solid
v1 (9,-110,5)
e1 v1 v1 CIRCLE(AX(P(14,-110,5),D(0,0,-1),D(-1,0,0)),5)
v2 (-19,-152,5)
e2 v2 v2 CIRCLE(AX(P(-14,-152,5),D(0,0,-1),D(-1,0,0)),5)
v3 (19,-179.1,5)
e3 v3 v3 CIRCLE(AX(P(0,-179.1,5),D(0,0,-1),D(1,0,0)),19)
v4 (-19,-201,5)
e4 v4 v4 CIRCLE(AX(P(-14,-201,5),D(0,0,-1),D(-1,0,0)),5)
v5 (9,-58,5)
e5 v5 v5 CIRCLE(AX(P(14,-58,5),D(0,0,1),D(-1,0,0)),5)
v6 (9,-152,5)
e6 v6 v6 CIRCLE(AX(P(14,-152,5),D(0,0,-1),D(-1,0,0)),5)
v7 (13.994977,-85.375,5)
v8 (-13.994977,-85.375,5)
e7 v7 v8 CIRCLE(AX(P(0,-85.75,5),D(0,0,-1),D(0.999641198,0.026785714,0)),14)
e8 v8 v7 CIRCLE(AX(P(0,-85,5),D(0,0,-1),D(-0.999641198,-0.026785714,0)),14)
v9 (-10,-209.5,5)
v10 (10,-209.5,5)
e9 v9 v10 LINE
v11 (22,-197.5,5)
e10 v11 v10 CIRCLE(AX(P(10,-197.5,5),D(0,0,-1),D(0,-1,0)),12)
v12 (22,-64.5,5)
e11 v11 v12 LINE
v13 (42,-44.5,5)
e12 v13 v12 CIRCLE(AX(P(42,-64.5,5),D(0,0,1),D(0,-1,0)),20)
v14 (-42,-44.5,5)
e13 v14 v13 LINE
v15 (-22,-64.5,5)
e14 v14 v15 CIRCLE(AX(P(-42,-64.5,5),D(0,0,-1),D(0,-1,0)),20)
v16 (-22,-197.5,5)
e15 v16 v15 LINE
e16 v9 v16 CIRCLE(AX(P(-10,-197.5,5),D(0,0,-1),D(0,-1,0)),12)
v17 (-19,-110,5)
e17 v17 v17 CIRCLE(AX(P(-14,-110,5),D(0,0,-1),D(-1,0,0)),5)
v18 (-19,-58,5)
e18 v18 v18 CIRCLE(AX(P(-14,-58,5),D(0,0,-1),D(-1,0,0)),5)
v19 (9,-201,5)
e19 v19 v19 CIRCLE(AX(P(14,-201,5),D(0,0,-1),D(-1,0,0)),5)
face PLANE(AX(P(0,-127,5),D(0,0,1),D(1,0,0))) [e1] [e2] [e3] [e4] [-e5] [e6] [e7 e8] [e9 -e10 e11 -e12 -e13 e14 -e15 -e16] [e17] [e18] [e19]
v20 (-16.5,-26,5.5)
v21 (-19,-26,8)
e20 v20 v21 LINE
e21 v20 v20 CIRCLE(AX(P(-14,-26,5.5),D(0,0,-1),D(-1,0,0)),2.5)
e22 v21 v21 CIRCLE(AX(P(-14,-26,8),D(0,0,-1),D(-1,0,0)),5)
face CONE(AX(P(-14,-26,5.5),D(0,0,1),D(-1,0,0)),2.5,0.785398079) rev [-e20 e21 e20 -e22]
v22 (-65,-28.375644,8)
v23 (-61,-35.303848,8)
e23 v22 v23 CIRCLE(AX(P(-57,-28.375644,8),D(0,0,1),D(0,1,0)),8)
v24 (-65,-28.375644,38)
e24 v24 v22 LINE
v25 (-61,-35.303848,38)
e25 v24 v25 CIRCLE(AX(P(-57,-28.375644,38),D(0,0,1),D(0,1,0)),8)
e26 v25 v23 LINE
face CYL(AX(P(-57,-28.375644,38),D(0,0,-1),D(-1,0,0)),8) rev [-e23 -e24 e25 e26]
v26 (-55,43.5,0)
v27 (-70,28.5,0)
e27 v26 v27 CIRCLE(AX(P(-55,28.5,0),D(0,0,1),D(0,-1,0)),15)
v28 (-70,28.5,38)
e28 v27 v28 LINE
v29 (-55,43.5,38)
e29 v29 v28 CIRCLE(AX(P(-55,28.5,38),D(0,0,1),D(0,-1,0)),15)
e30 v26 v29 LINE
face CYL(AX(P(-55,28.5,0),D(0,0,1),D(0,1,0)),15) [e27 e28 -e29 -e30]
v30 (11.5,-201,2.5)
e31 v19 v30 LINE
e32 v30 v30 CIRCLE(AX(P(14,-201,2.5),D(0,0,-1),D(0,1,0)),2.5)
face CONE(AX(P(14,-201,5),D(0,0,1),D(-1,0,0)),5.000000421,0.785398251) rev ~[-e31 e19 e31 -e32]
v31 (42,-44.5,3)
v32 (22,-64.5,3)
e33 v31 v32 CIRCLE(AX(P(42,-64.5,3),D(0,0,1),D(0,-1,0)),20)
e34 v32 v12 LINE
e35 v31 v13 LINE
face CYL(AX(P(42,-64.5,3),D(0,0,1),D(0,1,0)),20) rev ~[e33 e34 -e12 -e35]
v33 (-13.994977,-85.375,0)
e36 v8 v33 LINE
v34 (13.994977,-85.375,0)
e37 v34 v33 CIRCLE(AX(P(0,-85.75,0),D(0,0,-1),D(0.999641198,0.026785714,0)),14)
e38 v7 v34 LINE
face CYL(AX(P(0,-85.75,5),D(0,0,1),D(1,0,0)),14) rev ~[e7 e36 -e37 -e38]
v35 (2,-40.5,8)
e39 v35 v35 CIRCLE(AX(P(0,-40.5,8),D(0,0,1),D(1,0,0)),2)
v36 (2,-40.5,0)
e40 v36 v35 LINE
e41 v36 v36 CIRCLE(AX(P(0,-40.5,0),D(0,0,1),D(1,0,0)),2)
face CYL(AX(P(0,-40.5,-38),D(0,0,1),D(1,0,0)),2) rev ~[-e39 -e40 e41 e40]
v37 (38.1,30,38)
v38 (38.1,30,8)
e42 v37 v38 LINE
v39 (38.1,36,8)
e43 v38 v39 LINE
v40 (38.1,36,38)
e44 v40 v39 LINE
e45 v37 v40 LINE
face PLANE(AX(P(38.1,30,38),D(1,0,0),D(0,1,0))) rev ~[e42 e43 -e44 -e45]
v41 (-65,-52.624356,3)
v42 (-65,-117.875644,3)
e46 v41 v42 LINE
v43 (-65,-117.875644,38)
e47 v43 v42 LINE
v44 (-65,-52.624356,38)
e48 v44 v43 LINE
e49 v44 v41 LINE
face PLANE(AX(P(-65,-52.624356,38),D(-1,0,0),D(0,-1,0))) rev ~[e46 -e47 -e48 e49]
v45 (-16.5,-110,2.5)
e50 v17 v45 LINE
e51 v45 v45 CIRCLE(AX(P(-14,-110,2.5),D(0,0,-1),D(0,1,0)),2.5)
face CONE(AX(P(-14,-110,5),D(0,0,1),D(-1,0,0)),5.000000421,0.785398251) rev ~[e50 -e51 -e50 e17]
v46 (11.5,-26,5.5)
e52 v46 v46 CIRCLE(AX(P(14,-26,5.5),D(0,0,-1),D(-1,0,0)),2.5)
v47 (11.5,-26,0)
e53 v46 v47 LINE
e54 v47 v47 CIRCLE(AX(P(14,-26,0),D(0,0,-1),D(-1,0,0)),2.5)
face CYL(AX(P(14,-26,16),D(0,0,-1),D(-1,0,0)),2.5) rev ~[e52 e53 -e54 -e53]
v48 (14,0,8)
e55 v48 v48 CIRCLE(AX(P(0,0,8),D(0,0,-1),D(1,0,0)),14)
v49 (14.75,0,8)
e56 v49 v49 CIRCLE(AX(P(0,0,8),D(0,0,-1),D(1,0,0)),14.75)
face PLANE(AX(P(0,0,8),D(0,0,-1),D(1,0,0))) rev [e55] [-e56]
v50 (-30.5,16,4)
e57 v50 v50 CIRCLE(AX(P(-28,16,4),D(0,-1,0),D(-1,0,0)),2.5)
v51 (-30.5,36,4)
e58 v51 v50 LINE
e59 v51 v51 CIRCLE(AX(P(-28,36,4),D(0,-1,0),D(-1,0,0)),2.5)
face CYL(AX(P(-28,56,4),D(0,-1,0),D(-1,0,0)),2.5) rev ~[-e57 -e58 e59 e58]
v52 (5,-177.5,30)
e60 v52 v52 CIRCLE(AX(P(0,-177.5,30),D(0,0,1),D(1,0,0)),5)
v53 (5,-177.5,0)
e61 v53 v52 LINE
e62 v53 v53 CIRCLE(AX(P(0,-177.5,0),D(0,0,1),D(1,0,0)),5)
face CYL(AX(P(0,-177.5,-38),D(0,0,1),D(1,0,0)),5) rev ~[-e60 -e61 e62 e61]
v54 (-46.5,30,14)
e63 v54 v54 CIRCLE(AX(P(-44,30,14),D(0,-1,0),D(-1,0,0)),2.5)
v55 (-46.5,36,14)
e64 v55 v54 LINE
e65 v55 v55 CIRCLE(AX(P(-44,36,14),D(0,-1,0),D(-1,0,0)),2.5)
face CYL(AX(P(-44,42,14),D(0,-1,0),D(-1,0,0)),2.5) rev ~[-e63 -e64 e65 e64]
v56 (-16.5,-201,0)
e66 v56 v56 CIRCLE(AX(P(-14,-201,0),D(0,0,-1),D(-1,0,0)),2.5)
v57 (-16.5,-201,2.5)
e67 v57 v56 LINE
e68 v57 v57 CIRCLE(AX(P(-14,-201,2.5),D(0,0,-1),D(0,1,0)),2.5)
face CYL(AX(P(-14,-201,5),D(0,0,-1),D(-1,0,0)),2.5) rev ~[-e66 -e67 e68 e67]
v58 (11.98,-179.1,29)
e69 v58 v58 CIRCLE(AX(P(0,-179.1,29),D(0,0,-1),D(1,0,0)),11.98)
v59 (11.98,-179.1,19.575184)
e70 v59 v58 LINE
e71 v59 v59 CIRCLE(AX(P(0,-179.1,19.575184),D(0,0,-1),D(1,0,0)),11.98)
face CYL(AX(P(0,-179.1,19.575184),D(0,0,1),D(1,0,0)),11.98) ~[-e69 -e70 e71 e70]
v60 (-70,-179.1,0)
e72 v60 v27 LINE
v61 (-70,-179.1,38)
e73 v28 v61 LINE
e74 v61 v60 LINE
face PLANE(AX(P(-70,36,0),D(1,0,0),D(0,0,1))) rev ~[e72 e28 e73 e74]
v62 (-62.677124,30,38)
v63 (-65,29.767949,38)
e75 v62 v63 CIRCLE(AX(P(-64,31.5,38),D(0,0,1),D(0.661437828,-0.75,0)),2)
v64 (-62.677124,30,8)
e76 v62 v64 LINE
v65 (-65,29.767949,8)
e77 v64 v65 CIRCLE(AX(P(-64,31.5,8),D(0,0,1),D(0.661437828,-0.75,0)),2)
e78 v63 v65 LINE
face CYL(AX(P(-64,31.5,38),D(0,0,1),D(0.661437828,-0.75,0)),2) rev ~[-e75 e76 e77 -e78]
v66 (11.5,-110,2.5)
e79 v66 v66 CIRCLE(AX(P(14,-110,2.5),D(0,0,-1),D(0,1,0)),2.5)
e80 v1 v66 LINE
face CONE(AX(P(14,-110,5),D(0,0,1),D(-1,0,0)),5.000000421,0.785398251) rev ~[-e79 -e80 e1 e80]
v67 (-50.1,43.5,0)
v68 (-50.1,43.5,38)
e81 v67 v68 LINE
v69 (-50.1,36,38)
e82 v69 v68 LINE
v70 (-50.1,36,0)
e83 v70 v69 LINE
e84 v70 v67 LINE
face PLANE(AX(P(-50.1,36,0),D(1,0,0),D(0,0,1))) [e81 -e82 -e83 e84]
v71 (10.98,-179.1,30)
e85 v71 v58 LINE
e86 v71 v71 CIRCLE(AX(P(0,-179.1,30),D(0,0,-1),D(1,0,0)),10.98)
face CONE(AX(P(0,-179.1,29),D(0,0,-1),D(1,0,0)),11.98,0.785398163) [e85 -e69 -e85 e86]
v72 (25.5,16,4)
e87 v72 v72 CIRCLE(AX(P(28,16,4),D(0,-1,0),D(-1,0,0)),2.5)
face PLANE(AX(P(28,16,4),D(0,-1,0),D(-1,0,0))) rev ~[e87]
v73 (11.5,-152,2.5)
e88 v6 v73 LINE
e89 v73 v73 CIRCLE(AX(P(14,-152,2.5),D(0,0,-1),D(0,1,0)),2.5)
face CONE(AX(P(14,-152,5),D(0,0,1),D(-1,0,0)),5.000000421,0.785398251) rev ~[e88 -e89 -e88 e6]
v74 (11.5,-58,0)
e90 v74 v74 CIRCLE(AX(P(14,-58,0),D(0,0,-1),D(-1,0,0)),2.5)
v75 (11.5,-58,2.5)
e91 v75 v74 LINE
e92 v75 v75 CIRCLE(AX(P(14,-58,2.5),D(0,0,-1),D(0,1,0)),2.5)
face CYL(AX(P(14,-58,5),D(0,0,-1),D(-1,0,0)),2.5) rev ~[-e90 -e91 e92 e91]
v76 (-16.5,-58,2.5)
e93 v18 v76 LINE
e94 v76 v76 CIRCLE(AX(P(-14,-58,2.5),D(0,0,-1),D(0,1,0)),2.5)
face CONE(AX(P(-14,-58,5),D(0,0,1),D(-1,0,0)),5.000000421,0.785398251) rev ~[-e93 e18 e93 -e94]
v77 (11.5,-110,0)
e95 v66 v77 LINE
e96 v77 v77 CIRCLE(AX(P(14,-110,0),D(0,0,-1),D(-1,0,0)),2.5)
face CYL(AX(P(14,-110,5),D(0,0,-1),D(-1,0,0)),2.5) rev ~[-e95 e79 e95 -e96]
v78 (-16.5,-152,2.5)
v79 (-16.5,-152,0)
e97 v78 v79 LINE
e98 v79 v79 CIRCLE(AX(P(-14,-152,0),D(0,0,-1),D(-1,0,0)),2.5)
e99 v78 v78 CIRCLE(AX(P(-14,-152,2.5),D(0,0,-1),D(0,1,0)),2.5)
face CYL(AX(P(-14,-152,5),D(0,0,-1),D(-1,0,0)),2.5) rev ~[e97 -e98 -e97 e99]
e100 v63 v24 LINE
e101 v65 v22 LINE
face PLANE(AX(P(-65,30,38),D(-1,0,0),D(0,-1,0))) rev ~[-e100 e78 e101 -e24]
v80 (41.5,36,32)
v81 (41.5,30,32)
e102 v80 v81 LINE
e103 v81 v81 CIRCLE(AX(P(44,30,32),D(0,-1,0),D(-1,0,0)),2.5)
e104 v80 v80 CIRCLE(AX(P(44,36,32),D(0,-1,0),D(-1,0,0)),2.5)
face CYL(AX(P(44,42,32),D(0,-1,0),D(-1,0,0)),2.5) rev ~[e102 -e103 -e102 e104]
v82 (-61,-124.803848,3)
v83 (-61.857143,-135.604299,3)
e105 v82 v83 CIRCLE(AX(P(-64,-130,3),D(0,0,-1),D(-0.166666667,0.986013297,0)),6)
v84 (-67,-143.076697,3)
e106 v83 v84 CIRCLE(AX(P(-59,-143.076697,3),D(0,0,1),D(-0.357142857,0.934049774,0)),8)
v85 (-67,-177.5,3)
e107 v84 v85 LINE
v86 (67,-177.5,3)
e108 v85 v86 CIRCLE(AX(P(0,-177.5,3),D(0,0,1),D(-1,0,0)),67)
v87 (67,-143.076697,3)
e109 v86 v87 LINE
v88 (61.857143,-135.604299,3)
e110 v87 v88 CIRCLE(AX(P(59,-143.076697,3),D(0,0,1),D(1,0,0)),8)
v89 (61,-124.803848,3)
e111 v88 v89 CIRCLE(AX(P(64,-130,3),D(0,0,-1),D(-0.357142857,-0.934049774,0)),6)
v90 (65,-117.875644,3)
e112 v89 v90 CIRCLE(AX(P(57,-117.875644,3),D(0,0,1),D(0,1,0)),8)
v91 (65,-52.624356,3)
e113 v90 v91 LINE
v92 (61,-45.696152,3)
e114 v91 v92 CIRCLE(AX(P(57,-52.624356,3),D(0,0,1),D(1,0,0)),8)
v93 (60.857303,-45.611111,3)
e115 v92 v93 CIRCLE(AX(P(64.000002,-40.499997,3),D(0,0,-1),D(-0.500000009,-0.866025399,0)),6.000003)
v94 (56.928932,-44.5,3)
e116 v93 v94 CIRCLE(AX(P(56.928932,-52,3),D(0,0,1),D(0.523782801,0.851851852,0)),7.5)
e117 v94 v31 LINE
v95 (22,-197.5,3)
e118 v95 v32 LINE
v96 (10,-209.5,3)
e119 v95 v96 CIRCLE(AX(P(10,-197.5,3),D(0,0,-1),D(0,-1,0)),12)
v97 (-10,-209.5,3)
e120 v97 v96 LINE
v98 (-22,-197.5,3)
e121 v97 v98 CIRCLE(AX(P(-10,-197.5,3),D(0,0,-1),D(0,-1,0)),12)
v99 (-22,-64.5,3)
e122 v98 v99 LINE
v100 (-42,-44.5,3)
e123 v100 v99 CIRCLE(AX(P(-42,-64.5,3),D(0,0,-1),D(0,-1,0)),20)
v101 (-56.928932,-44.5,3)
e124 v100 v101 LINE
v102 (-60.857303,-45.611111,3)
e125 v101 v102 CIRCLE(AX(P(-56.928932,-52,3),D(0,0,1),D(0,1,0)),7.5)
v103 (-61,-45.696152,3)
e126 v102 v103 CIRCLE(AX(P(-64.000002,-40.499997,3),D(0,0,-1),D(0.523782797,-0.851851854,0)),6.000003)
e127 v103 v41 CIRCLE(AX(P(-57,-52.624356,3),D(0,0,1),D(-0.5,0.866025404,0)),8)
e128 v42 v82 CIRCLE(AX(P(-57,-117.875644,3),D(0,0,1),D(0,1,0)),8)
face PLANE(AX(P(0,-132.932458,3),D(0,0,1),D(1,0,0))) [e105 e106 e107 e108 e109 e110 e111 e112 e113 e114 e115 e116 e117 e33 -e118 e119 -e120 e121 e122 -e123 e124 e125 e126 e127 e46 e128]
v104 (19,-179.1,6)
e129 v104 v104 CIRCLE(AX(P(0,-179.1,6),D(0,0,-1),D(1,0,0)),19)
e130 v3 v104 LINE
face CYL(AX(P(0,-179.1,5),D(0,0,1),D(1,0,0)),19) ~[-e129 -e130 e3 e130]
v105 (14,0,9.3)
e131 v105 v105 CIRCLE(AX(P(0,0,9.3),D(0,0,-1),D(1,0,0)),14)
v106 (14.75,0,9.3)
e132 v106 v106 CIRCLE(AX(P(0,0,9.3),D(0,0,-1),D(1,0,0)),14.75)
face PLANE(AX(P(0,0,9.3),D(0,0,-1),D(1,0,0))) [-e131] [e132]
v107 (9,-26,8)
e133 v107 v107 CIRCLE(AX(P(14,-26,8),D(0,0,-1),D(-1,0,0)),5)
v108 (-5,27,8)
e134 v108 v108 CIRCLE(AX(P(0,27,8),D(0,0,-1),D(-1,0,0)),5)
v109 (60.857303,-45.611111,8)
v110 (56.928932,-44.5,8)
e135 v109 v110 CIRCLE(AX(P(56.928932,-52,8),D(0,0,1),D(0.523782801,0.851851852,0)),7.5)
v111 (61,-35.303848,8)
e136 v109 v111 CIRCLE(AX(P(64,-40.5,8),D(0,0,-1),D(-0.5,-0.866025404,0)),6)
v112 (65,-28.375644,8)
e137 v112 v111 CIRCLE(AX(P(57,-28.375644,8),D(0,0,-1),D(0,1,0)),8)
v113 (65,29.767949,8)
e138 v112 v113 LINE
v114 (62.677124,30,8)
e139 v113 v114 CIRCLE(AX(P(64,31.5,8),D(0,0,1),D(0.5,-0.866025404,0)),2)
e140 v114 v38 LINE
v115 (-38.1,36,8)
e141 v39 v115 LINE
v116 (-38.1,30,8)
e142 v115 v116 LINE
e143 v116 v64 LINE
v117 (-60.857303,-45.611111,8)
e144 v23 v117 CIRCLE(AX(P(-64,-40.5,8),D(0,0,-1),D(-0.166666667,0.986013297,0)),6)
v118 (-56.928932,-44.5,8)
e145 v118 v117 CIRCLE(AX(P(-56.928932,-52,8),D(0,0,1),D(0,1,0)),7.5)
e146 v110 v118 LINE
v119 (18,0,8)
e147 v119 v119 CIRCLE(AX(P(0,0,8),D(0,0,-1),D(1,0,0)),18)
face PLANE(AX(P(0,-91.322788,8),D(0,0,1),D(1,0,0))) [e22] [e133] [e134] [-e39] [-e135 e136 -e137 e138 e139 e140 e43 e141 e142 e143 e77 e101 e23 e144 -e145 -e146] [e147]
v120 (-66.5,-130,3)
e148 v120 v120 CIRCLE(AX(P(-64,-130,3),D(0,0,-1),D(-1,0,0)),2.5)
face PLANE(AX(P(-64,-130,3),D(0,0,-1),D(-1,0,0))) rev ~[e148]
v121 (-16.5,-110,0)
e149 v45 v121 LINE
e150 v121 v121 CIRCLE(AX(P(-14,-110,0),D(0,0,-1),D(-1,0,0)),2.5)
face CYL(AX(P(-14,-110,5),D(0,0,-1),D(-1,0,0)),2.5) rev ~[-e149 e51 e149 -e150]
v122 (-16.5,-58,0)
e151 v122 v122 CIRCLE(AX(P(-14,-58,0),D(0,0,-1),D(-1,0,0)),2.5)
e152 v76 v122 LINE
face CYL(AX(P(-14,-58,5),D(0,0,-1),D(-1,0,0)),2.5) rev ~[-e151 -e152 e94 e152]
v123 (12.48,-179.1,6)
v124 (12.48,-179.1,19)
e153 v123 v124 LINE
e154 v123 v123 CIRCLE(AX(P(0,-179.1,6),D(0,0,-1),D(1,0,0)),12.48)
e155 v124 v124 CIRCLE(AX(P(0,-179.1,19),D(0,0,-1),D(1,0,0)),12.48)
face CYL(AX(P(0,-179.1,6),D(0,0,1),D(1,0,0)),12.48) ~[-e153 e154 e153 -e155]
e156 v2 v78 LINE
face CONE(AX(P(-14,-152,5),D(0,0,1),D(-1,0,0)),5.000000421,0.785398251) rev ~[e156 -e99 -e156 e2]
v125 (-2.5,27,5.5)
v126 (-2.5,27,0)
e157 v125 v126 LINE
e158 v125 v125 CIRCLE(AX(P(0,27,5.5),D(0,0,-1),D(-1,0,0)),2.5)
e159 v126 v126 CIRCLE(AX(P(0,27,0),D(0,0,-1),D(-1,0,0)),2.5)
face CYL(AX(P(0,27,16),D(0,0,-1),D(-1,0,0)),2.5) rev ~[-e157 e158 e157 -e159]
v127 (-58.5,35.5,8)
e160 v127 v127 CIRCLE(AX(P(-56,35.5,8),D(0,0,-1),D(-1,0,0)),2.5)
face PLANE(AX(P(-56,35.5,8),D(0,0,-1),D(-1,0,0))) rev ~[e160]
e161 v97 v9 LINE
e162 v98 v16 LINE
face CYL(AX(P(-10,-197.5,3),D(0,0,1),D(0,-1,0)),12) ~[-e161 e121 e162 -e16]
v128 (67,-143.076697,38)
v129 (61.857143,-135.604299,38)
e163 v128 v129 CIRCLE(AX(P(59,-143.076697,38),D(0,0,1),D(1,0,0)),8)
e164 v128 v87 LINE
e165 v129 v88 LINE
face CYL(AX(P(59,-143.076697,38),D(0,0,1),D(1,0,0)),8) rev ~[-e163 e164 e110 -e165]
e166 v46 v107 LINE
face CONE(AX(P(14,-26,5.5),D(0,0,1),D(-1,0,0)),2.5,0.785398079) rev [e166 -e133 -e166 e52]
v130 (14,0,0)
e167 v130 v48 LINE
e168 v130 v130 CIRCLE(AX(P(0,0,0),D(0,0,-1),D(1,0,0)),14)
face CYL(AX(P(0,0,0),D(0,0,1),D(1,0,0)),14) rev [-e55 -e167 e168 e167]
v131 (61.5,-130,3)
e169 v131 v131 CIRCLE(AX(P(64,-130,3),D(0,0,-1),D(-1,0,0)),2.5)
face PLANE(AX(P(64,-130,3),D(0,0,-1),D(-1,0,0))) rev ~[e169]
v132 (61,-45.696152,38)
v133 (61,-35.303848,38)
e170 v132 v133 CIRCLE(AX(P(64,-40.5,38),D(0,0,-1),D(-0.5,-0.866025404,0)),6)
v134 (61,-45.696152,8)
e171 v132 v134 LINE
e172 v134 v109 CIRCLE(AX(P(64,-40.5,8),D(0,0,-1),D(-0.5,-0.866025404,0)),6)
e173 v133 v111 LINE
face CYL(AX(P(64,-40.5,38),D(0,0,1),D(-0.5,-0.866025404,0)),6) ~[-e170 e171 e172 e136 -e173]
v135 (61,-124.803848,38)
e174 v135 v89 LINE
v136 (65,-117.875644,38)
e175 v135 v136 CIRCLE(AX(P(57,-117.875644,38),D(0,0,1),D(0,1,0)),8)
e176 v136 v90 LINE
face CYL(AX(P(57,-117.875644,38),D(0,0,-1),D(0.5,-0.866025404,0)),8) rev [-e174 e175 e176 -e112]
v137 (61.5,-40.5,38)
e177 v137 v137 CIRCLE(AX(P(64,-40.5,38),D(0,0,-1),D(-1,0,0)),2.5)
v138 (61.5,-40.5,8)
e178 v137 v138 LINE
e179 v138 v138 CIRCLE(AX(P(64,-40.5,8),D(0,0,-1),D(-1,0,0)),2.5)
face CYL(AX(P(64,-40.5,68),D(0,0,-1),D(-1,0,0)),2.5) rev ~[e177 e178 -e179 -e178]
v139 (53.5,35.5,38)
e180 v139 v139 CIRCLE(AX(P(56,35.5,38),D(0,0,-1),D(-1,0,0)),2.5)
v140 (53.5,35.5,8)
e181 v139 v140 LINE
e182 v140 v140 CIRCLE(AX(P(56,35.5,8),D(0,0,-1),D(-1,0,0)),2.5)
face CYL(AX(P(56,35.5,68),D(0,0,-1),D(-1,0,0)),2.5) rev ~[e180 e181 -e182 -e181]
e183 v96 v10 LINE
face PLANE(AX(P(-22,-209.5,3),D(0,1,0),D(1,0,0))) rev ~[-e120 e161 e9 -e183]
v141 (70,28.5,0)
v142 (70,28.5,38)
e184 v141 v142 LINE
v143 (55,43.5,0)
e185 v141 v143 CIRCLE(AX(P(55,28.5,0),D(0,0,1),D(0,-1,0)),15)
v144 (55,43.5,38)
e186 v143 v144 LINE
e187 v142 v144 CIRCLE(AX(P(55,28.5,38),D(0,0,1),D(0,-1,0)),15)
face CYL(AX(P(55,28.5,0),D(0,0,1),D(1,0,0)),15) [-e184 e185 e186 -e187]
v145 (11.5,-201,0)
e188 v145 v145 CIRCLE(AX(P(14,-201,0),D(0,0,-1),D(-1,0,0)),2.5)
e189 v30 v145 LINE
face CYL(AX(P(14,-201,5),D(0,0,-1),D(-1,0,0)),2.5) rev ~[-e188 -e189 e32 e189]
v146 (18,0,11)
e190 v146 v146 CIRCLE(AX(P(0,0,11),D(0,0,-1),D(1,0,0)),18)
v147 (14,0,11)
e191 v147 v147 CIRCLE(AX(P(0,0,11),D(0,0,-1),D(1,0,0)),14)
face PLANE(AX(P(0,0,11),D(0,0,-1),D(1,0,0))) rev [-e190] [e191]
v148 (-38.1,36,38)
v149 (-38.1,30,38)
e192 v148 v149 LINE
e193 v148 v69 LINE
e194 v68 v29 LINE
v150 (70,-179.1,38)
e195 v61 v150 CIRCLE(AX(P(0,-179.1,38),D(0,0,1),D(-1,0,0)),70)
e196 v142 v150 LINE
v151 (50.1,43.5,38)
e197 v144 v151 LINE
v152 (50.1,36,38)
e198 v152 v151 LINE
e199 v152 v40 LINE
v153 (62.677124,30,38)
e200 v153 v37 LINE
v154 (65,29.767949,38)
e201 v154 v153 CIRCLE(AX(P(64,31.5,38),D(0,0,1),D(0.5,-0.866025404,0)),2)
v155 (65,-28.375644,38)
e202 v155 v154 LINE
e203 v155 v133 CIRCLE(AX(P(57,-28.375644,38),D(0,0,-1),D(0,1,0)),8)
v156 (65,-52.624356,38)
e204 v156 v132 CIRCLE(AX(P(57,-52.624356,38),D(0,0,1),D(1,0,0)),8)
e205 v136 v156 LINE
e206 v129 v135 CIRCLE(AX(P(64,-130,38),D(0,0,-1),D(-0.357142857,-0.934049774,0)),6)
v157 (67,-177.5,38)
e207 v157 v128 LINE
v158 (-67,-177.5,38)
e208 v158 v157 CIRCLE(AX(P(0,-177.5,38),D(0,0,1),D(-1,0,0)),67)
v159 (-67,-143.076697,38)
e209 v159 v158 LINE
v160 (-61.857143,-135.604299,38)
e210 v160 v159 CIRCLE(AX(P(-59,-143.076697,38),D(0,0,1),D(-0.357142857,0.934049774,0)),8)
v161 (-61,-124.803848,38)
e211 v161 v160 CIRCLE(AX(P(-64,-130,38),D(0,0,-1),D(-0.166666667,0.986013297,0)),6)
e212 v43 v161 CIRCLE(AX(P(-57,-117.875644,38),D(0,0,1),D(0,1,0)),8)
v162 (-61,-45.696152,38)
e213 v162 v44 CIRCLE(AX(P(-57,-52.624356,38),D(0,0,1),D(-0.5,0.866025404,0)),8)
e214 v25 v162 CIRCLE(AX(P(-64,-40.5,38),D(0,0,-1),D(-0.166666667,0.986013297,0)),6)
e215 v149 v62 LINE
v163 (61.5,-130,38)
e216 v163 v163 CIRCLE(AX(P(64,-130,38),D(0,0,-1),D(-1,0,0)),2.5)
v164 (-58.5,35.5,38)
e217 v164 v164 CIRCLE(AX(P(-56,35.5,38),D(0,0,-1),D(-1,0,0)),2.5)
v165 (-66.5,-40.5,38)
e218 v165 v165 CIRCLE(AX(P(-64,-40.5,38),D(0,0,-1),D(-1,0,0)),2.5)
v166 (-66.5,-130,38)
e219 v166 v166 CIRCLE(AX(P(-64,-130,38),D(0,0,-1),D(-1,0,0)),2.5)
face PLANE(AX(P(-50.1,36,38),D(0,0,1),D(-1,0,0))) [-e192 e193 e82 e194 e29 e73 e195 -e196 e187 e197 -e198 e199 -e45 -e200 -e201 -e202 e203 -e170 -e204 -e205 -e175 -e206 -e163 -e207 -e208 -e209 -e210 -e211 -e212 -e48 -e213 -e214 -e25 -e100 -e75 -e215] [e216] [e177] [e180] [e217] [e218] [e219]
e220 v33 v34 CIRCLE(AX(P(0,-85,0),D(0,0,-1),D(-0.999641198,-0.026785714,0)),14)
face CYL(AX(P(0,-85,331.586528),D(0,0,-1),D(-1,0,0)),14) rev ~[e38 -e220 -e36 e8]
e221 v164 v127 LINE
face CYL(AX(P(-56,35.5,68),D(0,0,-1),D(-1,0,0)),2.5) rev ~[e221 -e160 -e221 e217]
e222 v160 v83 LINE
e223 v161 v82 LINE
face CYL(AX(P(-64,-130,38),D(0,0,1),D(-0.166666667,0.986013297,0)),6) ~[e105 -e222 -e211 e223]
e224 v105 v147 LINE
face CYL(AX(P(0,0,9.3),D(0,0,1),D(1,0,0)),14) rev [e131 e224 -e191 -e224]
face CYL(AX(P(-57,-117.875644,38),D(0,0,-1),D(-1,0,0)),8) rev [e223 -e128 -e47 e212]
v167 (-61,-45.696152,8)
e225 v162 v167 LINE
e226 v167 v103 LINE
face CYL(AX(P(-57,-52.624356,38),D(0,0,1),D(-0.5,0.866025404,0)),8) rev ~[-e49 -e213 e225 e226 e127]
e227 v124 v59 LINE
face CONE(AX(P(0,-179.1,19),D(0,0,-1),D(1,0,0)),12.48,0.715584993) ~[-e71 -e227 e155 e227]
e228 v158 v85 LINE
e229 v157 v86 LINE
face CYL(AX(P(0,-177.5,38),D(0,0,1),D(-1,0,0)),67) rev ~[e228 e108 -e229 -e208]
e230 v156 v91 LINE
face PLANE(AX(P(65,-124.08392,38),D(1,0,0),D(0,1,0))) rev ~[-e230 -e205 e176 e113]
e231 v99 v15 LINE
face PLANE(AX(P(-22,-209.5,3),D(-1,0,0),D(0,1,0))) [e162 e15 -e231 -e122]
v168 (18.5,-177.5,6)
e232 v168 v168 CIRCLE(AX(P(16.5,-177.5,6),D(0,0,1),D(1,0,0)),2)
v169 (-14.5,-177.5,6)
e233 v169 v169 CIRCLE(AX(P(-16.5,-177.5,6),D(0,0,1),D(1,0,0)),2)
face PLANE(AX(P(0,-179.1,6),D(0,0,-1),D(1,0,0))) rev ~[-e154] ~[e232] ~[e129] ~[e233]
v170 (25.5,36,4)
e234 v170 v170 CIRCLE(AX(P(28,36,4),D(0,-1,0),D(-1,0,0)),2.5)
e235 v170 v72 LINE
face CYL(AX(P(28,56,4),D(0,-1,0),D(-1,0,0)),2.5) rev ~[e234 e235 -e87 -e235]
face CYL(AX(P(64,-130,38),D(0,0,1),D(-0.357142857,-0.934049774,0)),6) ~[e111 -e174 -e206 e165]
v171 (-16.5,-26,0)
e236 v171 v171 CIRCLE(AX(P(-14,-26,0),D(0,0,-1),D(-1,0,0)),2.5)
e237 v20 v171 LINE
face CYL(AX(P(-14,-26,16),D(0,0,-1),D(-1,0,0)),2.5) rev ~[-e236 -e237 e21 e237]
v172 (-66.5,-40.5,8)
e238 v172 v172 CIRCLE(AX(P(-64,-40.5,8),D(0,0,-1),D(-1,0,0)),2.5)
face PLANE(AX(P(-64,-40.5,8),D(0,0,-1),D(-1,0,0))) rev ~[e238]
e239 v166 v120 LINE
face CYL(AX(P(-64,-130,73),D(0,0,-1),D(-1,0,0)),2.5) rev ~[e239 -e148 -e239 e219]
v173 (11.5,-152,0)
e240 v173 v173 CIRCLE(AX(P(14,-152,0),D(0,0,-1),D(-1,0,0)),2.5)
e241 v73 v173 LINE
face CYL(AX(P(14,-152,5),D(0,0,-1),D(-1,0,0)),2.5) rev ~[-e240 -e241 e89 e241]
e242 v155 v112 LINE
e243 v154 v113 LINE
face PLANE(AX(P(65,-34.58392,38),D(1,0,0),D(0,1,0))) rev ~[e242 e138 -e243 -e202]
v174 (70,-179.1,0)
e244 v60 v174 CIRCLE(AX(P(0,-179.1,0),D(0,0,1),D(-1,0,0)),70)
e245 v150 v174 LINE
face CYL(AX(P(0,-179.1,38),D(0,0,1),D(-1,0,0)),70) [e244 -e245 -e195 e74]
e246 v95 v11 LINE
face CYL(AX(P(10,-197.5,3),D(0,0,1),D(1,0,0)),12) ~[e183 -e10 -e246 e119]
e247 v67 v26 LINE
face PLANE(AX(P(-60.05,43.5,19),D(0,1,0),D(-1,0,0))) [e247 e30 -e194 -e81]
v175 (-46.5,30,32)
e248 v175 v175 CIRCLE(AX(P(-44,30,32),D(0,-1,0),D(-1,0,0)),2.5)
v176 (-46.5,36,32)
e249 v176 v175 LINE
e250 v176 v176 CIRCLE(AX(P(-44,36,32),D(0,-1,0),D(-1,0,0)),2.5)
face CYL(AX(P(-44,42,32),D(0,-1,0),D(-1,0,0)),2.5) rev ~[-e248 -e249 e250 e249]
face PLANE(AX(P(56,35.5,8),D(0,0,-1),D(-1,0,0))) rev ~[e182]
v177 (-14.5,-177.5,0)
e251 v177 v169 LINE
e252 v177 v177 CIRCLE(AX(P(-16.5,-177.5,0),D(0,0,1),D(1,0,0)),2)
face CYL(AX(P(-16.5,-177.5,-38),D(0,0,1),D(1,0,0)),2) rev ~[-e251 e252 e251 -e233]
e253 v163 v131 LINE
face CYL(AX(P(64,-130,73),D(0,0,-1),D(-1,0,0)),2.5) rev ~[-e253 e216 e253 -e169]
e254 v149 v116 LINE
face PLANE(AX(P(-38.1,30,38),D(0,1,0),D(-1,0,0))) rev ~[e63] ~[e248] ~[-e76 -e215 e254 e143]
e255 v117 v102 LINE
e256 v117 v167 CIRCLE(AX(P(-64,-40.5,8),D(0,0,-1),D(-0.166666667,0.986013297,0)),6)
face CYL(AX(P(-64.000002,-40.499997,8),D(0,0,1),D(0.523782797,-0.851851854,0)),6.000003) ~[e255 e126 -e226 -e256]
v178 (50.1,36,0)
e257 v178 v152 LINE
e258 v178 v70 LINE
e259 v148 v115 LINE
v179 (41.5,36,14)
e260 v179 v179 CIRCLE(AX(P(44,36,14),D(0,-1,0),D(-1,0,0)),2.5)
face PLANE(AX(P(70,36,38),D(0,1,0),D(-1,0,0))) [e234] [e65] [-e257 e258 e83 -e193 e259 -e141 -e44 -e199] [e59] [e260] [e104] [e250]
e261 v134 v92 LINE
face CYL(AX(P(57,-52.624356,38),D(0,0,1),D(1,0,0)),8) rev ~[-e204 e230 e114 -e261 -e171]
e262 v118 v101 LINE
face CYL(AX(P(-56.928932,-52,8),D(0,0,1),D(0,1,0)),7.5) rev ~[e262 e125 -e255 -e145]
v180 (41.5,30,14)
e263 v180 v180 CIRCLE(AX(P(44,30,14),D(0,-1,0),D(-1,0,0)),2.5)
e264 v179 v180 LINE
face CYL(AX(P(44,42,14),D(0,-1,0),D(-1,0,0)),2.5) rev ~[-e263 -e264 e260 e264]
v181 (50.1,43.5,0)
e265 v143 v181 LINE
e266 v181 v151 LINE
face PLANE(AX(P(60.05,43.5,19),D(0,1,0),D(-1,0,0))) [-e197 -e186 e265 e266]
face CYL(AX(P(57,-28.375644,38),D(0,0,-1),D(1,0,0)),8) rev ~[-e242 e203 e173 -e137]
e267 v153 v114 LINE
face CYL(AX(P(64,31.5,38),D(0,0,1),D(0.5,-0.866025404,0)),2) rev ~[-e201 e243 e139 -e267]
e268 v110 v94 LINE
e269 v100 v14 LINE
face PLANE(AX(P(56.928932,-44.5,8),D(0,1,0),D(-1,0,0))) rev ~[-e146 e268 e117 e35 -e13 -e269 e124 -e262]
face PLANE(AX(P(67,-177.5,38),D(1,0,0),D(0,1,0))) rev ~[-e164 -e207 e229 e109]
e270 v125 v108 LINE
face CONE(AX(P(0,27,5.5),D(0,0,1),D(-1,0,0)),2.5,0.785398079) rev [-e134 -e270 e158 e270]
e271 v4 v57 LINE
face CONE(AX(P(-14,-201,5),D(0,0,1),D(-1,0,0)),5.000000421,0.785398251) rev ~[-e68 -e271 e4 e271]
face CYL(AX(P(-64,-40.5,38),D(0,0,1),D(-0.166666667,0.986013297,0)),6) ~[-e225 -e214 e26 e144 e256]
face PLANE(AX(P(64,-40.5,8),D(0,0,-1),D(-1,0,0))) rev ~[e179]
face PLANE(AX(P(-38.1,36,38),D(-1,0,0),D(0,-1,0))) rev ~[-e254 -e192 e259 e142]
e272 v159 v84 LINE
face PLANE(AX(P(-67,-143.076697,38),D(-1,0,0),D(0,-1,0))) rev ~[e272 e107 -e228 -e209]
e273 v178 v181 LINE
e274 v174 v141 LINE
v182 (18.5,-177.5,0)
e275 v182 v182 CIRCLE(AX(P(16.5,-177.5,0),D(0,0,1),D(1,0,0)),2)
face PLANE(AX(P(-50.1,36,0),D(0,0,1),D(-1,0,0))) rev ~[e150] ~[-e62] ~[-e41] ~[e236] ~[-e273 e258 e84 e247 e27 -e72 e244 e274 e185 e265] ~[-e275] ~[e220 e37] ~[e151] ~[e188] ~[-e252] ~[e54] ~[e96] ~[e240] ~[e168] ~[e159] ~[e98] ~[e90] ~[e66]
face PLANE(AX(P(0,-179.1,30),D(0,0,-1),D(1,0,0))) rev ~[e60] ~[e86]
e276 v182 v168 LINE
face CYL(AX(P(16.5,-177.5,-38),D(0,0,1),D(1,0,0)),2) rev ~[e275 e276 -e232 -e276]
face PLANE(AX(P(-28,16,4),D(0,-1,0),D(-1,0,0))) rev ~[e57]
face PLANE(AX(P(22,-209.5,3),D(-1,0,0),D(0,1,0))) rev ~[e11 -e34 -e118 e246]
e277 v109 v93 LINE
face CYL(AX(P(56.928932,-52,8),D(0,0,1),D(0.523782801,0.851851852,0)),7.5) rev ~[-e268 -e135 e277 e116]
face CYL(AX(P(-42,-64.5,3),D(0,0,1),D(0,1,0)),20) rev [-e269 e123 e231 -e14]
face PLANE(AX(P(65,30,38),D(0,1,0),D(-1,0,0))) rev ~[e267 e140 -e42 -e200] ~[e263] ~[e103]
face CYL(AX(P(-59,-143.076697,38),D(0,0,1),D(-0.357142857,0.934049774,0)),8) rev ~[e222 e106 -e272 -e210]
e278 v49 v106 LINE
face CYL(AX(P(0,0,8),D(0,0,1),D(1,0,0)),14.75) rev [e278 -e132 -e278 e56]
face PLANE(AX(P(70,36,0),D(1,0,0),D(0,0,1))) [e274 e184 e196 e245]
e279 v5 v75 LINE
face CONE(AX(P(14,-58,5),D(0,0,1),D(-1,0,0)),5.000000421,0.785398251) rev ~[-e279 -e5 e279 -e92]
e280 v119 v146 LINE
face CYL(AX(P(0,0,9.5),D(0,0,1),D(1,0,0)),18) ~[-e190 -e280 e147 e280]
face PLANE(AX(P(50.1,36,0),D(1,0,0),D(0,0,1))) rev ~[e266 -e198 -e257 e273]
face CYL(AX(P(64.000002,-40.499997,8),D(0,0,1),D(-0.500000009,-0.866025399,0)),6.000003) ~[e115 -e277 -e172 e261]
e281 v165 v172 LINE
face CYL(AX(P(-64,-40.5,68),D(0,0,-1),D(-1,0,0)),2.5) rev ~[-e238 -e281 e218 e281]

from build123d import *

# Parameters (mm, degrees)
BOSS_EXTRUDE1_DEPTH                = 38
CUT_EXTRUDE1_DEPTH                 = 30
CUT_EXTRUDE2_DEPTH                 = 5
SKETCH4_W                          = 19.9
SKETCH4_H                          = 38
BOSS_EXTRUDE2_DEPTH                = 7.5
SKETCH5_W                          = 19.9
SKETCH5_H                          = 38
BOSS_EXTRUDE3_DEPTH                = 7.5
CUT_EXTRUDE3_DEPTH                 = 30
CUT_EXTRUDE4_DEPTH                 = 30
SKETCH8_W                          = 44
SKETCH8_H                          = 165
BOSS_EXTRUDE4_DEPTH                = 2
SKETCH9_W                          = 18
SKETCH9_H                          = 3
F_4_0_4_DIAMETER_HOLE1_D           = 4
F_4_0_4_DIAMETER_HOLE1_DEPTH       = 38
F_4_0_4_DIAMETER_HOLE2_D           = 4
F_4_0_4_DIAMETER_HOLE2_DEPTH       = 38
F_5_0_5_DIAMETER_HOLE1_D           = 5
M24_CLEARANCE_HOLE1_D              = 28
F_10_0_10_DIAMETER_HOLE1_D         = 10
F_10_0_10_DIAMETER_HOLE1_DEPTH     = 38
F_5_0_5_DIAMETER_HOLE2_D           = 5
F_5_0_5_DIAMETER_HOLE2_CSINK_D     = 10.000000842
F_5_0_5_DIAMETER_HOLE2_CSINK_ANGLE = 90.00001
F_5_0_5_DIAMETER_HOLE3_D           = 5
F_5_0_5_DIAMETER_HOLE3_DEPTH       = 6
F_5_0_5_DIAMETER_HOLE4_D           = 5
F_5_0_5_DIAMETER_HOLE4_DEPTH       = 20
F_5_0_5_DIAMETER_HOLE5_D           = 5
F_5_0_5_DIAMETER_HOLE5_DEPTH       = 35
F_5_0_5_DIAMETER_HOLE6_D           = 5
F_5_0_5_DIAMETER_HOLE6_DEPTH       = 30
CHAMFER1_SIZE                      = 2.50000021
CHAMFER1_SIZE2                     = 2.499999787
CHAMFER2_SIZE                      = 1
FILLET1_R                          = 8
FILLET2_R                          = 12
FILLET3_R                          = 15
FILLET4_R                          = 20
SKETCH32_R                         = 14
CUT_EXTRUDE5_DEPTH                 = 261.84441723


with BuildPart() as part:
    # Sketch1 → Boss-Extrude1 (new body)
    with BuildSketch(Plane.XY.offset(38)):
        with BuildLine():
            Line((70, 36), (-70, 36))
            Line((-70, 36), (-70, -179.1))
            ThreePointArc((-70, -179.1), (0, -249.1), (70, -179.1))
            Line((70, -179.1), (70, 36))
        make_face()
    extrude(amount=-BOSS_EXTRUDE1_DEPTH)

    # Sketch2 → Cut-Extrude1 (cut)
    with BuildSketch(Plane.XY.offset(38)):
        with BuildLine():
            Line((-38.1, 36), (-38.1, 30))
            Line((-38.1, 30), (-65, 30))
            Line((-65, 30), (-65, -34.583920217))
            ThreePointArc((-65, -34.583920217), (-58.354610186, -38.467864707), (-61, -45.696152423))
            ThreePointArc((-61, -45.696152423), (-63.92820323, -48.624355653), (-65, -52.624355653))
            Line((-65, -52.624355653), (-65, -124.083920217))
            ThreePointArc((-65, -124.083920217), (-58.211536441, -128.420857946), (-61.857142857, -135.604298642))
            ThreePointArc((-61.857142857, -135.604298642), (-65.590035768, -138.541123155), (-67, -143.076696831))
            Line((-67, -143.076696831), (-67, -177.5))
            ThreePointArc((-67, -177.5), (0, -244.5), (67, -177.5))
            Line((67, -177.5), (67, -143.076696831))
            ThreePointArc((67, -143.076696831), (65.590035768, -138.541123155), (61.857142857, -135.604298642))
            ThreePointArc((61.857142857, -135.604298642), (58.211536441, -128.420857946), (65, -124.083920217))
            Line((65, -124.083920217), (65, -52.624355653))
            ThreePointArc((65, -52.624355653), (63.92820323, -48.624355653), (61, -45.696152423))
            ThreePointArc((61, -45.696152423), (58.354610186, -38.467864707), (65, -34.583920217))
            Line((65, -34.583920217), (65, 30))
            Line((65, 30), (38.1, 30))
            Line((38.1, 30), (38.1, 36))
            Line((38.1, 36), (-38.1, 36))
        make_face()
    extrude(amount=-CUT_EXTRUDE1_DEPTH, mode=Mode.SUBTRACT)

    # Sketch3 → Cut-Extrude2 (cut)
    with BuildSketch(Plane.XY.offset(8)):
        with BuildLine():
            Line((56.928932188, -44.5), (-56.928932188, -44.5))
            ThreePointArc((-56.928932188, -44.5), (-58.97017364, -44.783121635), (-60.857303195, -45.611111111))
            ThreePointArc((-60.857303195, -45.611111111), (-60.928357277, -45.654125627), (-61, -45.696152423))
            ThreePointArc((-61, -45.696152423), (-63.92820323, -48.624355653), (-65, -52.624355653))
            Line((-65, -52.624355653), (-65, -124.083920217))
            ThreePointArc((-65, -124.083920217), (-58.211536441, -128.420857946), (-61.857142857, -135.604298642))
            ThreePointArc((-61.857142857, -135.604298642), (-65.590035768, -138.541123155), (-67, -143.076696831))
            Line((-67, -143.076696831), (-67, -177.5))
            ThreePointArc((-67, -177.5), (0, -244.5), (67, -177.5))
            Line((67, -177.5), (67, -143.076696831))
            ThreePointArc((67, -143.076696831), (65.590035768, -138.541123155), (61.857142857, -135.604298642))
            ThreePointArc((61.857142857, -135.604298642), (58.211536441, -128.420857946), (65, -124.083920217))
            Line((65, -124.083920217), (65, -52.624355653))
            ThreePointArc((65, -52.624355653), (63.92820323, -48.624355653), (61, -45.696152423))
            ThreePointArc((61, -45.696152423), (60.928357277, -45.654125627), (60.857303195, -45.611111111))
            ThreePointArc((60.857303195, -45.611111111), (58.97017364, -44.783121635), (56.928932188, -44.5))
        make_face()
    extrude(amount=-CUT_EXTRUDE2_DEPTH, mode=Mode.SUBTRACT)

    # Sketch4 → Boss-Extrude2 (add)
    with BuildSketch(Plane(origin=(0, 36, 0), x_dir=(-1, 0, 0), z_dir=(0, 1, 0))):
        with Locations((-60.05, 19)):
            Rectangle(SKETCH4_W, SKETCH4_H)
    extrude(amount=BOSS_EXTRUDE2_DEPTH)

    # Sketch5 → Boss-Extrude3 (add)
    with BuildSketch(Plane(origin=(0, 36, 0), x_dir=(-1, 0, 0), z_dir=(0, 1, 0))):
        with Locations((60.05, 19)):
            Rectangle(SKETCH5_W, SKETCH5_H)
    extrude(amount=BOSS_EXTRUDE3_DEPTH)

    # Sketch6 → Cut-Extrude3 (cut)
    with BuildSketch(Plane.XY.offset(38)):
        with BuildLine():
            Line((-65, 30), (-62.677124344, 30))
            ThreePointArc((-62.677124344, 30), (-64.198806606, 33.490094453), (-65, 29.767949192))
            Line((-65, 29.767949192), (-65, 30))
        make_face()
    extrude(amount=-CUT_EXTRUDE3_DEPTH, mode=Mode.SUBTRACT)

    # Sketch7 → Cut-Extrude4 (cut)
    with BuildSketch(Plane.XY.offset(38)):
        with BuildLine():
            Line((65, 30), (65, 29.767949192))
            ThreePointArc((65, 29.767949192), (64.198806606, 33.490094453), (62.677124344, 30))
            Line((62.677124344, 30), (65, 30))
        make_face()
    extrude(amount=-CUT_EXTRUDE4_DEPTH, mode=Mode.SUBTRACT)

    # Sketch8 → Boss-Extrude4 (add)
    with BuildSketch(Plane.XY.offset(3)):
        with Locations((0, -127)):
            Rectangle(SKETCH8_W, SKETCH8_H)
    extrude(amount=BOSS_EXTRUDE4_DEPTH)

    # Sketch9 → Revolve1 (revolve)
    with BuildSketch(Plane.XZ):
        with Locations((9, 9.5)):
            Rectangle(SKETCH9_W, SKETCH9_H)
    revolve(axis=Axis((0, 0, 11), (0, 0, -1)))

    # Sketch10 → Revolve2 (revolve)
    with BuildSketch(Plane.XZ.offset(179.1)):
        Polygon((11.98, 30), (0, 30), (0, 5), (19, 5), (19, 6), (12.48, 6), (12.48, 19), (11.98, 19.575184204), align=None)
    revolve(axis=Axis((0, -179.1, 30), (0, 0, -1)))

    # Sketch11 → Cut-Revolve1 (revolve, cut)
    with BuildSketch(Plane.XZ):
        Polygon((14, 11), (0, 11), (0, 0), (14, 0), (14, 8), (14.75, 8), (14.75, 9.3), (14, 9.3), align=None)
    revolve(axis=Axis((0, 0, 11), (0, 0, -1)), mode=Mode.SUBTRACT)

    # Ø4.0 (4) Diameter Hole1
    with Locations(Plane(origin=(0, 0, 0), x_dir=(-1, 0, 0), z_dir=(0, 0, -1))):
        with Locations((-16.5, -177.5), (16.5, -177.5)):
            Hole(F_4_0_4_DIAMETER_HOLE1_D / 2, depth=F_4_0_4_DIAMETER_HOLE1_DEPTH)

    # Ø4.0 (4) Diameter Hole2
    with Locations(Plane(origin=(0, 0, 0), x_dir=(-1, 0, 0), z_dir=(0, 0, -1))):
        with Locations((0, -40.5)):
            Hole(F_4_0_4_DIAMETER_HOLE2_D / 2, depth=F_4_0_4_DIAMETER_HOLE2_DEPTH)

    # Ø5.0 (5) Diameter Hole1 (through all)
    with Locations(Plane.XY.offset(8)):
        with Locations((14, -26), (-14, -26), (0, 27)):
            Hole(F_5_0_5_DIAMETER_HOLE1_D / 2)

    # M24 Clearance Hole1 (through all)
    with Locations(Plane.XY.offset(5)):
        with Locations((0, -85)):
            Hole(M24_CLEARANCE_HOLE1_D / 2)

    # Ø10.0 (10) Diameter Hole1
    with Locations(Plane(origin=(0, 0, 0), x_dir=(-1, 0, 0), z_dir=(0, 0, -1))):
        with Locations((0, -177.5)):
            Hole(F_10_0_10_DIAMETER_HOLE1_D / 2, depth=F_10_0_10_DIAMETER_HOLE1_DEPTH)

    # Ø5.0 (5) Diameter Hole2 (through all)
    with Locations(Plane.XY.offset(5)):
        with Locations((14, -201), (-14, -201), (-14, -152), (14, -152), (-14, -110), (14, -110), (-14, -58), (14, -58)):
            CounterSinkHole(F_5_0_5_DIAMETER_HOLE2_D / 2, F_5_0_5_DIAMETER_HOLE2_CSINK_D / 2, counter_sink_angle=F_5_0_5_DIAMETER_HOLE2_CSINK_ANGLE)

    # Ø5.0 (5) Diameter Hole3
    with Locations(Plane(origin=(0, 36, 0), x_dir=(1, 0, 0), z_dir=(0, 1, 0))):
        with Locations((44, -14), (44, -32), (-44, -32), (-44, -14)):
            Hole(F_5_0_5_DIAMETER_HOLE3_D / 2, depth=F_5_0_5_DIAMETER_HOLE3_DEPTH)

    # Ø5.0 (5) Diameter Hole4
    with Locations(Plane(origin=(0, 36, 0), x_dir=(1, 0, 0), z_dir=(0, 1, 0))):
        with Locations((28, -4), (-28, -4)):
            Hole(F_5_0_5_DIAMETER_HOLE4_D / 2, depth=F_5_0_5_DIAMETER_HOLE4_DEPTH)

    # Ø5.0 (5) Diameter Hole5
    with Locations(Plane.XY.offset(38)):
        with Locations((64, -130), (-64, -130)):
            Hole(F_5_0_5_DIAMETER_HOLE5_D / 2, depth=F_5_0_5_DIAMETER_HOLE5_DEPTH)

    # Ø5.0 (5) Diameter Hole6
    with Locations(Plane.XY.offset(38)):
        with Locations((-56, 35.5), (56, 35.5), (64, -40.5), (-64, -40.5)):
            Hole(F_5_0_5_DIAMETER_HOLE6_D / 2, depth=F_5_0_5_DIAMETER_HOLE6_DEPTH)

    # Chamfer1
    chamfer1_edges = [part.edges().sort_by_distance(p)[0] for p in [
        (16.5, -26, 8),
        (-11.5, -26, 8),
        (2.5, 27, 8),
    ]]
    chamfer1_side = [part.faces().sort_by_distance(p)[0] for p in [
        (0, 34.448085909, 8),
    ]]
    chamfer(chamfer1_edges, length=CHAMFER1_SIZE, length2=CHAMFER1_SIZE2, reference=chamfer1_side[0])

    # Chamfer2
    chamfer2_edges = [part.edges().sort_by_distance(p)[0] for p in [
        (-11.98, -179.1, 30),
    ]]
    chamfer(chamfer2_edges, length=CHAMFER2_SIZE)

    # Fillet1
    fillet1_edges = [part.edges().sort_by_distance(p)[0] for p in [
        (-65, -34.583920217, 23),
        (65, -124.083920217, 20.5),
        (65, -34.583920217, 23),
        (-65, -124.083920217, 20.5),
    ]]
    fillet(fillet1_edges, radius=FILLET1_R)

    # Fillet2
    fillet2_edges = [part.edges().sort_by_distance(p)[0] for p in [
        (22, -209.5, 4),
        (-22, -209.5, 4),
    ]]
    fillet(fillet2_edges, radius=FILLET2_R)

    # Fillet3
    fillet3_edges = [part.edges().sort_by_distance(p)[0] for p in [
        (-70, 43.5, 19),
        (70, 43.5, 19),
    ]]
    fillet(fillet3_edges, radius=FILLET3_R)

    # Fillet4
    fillet4_edges = [part.edges().sort_by_distance(p)[0] for p in [
        (-22, -44.5, 4),
        (22, -44.5, 4),
    ]]
    fillet(fillet4_edges, radius=FILLET4_R)

    # Sketch32 → Cut-Extrude5 (cut, through all)
    with BuildSketch(Plane.XY.offset(5)):
        with Locations((0, -85.75)):
            Circle(SKETCH32_R)
    extrude(amount=-CUT_EXTRUDE5_DEPTH, mode=Mode.SUBTRACT)


solid = part.part
